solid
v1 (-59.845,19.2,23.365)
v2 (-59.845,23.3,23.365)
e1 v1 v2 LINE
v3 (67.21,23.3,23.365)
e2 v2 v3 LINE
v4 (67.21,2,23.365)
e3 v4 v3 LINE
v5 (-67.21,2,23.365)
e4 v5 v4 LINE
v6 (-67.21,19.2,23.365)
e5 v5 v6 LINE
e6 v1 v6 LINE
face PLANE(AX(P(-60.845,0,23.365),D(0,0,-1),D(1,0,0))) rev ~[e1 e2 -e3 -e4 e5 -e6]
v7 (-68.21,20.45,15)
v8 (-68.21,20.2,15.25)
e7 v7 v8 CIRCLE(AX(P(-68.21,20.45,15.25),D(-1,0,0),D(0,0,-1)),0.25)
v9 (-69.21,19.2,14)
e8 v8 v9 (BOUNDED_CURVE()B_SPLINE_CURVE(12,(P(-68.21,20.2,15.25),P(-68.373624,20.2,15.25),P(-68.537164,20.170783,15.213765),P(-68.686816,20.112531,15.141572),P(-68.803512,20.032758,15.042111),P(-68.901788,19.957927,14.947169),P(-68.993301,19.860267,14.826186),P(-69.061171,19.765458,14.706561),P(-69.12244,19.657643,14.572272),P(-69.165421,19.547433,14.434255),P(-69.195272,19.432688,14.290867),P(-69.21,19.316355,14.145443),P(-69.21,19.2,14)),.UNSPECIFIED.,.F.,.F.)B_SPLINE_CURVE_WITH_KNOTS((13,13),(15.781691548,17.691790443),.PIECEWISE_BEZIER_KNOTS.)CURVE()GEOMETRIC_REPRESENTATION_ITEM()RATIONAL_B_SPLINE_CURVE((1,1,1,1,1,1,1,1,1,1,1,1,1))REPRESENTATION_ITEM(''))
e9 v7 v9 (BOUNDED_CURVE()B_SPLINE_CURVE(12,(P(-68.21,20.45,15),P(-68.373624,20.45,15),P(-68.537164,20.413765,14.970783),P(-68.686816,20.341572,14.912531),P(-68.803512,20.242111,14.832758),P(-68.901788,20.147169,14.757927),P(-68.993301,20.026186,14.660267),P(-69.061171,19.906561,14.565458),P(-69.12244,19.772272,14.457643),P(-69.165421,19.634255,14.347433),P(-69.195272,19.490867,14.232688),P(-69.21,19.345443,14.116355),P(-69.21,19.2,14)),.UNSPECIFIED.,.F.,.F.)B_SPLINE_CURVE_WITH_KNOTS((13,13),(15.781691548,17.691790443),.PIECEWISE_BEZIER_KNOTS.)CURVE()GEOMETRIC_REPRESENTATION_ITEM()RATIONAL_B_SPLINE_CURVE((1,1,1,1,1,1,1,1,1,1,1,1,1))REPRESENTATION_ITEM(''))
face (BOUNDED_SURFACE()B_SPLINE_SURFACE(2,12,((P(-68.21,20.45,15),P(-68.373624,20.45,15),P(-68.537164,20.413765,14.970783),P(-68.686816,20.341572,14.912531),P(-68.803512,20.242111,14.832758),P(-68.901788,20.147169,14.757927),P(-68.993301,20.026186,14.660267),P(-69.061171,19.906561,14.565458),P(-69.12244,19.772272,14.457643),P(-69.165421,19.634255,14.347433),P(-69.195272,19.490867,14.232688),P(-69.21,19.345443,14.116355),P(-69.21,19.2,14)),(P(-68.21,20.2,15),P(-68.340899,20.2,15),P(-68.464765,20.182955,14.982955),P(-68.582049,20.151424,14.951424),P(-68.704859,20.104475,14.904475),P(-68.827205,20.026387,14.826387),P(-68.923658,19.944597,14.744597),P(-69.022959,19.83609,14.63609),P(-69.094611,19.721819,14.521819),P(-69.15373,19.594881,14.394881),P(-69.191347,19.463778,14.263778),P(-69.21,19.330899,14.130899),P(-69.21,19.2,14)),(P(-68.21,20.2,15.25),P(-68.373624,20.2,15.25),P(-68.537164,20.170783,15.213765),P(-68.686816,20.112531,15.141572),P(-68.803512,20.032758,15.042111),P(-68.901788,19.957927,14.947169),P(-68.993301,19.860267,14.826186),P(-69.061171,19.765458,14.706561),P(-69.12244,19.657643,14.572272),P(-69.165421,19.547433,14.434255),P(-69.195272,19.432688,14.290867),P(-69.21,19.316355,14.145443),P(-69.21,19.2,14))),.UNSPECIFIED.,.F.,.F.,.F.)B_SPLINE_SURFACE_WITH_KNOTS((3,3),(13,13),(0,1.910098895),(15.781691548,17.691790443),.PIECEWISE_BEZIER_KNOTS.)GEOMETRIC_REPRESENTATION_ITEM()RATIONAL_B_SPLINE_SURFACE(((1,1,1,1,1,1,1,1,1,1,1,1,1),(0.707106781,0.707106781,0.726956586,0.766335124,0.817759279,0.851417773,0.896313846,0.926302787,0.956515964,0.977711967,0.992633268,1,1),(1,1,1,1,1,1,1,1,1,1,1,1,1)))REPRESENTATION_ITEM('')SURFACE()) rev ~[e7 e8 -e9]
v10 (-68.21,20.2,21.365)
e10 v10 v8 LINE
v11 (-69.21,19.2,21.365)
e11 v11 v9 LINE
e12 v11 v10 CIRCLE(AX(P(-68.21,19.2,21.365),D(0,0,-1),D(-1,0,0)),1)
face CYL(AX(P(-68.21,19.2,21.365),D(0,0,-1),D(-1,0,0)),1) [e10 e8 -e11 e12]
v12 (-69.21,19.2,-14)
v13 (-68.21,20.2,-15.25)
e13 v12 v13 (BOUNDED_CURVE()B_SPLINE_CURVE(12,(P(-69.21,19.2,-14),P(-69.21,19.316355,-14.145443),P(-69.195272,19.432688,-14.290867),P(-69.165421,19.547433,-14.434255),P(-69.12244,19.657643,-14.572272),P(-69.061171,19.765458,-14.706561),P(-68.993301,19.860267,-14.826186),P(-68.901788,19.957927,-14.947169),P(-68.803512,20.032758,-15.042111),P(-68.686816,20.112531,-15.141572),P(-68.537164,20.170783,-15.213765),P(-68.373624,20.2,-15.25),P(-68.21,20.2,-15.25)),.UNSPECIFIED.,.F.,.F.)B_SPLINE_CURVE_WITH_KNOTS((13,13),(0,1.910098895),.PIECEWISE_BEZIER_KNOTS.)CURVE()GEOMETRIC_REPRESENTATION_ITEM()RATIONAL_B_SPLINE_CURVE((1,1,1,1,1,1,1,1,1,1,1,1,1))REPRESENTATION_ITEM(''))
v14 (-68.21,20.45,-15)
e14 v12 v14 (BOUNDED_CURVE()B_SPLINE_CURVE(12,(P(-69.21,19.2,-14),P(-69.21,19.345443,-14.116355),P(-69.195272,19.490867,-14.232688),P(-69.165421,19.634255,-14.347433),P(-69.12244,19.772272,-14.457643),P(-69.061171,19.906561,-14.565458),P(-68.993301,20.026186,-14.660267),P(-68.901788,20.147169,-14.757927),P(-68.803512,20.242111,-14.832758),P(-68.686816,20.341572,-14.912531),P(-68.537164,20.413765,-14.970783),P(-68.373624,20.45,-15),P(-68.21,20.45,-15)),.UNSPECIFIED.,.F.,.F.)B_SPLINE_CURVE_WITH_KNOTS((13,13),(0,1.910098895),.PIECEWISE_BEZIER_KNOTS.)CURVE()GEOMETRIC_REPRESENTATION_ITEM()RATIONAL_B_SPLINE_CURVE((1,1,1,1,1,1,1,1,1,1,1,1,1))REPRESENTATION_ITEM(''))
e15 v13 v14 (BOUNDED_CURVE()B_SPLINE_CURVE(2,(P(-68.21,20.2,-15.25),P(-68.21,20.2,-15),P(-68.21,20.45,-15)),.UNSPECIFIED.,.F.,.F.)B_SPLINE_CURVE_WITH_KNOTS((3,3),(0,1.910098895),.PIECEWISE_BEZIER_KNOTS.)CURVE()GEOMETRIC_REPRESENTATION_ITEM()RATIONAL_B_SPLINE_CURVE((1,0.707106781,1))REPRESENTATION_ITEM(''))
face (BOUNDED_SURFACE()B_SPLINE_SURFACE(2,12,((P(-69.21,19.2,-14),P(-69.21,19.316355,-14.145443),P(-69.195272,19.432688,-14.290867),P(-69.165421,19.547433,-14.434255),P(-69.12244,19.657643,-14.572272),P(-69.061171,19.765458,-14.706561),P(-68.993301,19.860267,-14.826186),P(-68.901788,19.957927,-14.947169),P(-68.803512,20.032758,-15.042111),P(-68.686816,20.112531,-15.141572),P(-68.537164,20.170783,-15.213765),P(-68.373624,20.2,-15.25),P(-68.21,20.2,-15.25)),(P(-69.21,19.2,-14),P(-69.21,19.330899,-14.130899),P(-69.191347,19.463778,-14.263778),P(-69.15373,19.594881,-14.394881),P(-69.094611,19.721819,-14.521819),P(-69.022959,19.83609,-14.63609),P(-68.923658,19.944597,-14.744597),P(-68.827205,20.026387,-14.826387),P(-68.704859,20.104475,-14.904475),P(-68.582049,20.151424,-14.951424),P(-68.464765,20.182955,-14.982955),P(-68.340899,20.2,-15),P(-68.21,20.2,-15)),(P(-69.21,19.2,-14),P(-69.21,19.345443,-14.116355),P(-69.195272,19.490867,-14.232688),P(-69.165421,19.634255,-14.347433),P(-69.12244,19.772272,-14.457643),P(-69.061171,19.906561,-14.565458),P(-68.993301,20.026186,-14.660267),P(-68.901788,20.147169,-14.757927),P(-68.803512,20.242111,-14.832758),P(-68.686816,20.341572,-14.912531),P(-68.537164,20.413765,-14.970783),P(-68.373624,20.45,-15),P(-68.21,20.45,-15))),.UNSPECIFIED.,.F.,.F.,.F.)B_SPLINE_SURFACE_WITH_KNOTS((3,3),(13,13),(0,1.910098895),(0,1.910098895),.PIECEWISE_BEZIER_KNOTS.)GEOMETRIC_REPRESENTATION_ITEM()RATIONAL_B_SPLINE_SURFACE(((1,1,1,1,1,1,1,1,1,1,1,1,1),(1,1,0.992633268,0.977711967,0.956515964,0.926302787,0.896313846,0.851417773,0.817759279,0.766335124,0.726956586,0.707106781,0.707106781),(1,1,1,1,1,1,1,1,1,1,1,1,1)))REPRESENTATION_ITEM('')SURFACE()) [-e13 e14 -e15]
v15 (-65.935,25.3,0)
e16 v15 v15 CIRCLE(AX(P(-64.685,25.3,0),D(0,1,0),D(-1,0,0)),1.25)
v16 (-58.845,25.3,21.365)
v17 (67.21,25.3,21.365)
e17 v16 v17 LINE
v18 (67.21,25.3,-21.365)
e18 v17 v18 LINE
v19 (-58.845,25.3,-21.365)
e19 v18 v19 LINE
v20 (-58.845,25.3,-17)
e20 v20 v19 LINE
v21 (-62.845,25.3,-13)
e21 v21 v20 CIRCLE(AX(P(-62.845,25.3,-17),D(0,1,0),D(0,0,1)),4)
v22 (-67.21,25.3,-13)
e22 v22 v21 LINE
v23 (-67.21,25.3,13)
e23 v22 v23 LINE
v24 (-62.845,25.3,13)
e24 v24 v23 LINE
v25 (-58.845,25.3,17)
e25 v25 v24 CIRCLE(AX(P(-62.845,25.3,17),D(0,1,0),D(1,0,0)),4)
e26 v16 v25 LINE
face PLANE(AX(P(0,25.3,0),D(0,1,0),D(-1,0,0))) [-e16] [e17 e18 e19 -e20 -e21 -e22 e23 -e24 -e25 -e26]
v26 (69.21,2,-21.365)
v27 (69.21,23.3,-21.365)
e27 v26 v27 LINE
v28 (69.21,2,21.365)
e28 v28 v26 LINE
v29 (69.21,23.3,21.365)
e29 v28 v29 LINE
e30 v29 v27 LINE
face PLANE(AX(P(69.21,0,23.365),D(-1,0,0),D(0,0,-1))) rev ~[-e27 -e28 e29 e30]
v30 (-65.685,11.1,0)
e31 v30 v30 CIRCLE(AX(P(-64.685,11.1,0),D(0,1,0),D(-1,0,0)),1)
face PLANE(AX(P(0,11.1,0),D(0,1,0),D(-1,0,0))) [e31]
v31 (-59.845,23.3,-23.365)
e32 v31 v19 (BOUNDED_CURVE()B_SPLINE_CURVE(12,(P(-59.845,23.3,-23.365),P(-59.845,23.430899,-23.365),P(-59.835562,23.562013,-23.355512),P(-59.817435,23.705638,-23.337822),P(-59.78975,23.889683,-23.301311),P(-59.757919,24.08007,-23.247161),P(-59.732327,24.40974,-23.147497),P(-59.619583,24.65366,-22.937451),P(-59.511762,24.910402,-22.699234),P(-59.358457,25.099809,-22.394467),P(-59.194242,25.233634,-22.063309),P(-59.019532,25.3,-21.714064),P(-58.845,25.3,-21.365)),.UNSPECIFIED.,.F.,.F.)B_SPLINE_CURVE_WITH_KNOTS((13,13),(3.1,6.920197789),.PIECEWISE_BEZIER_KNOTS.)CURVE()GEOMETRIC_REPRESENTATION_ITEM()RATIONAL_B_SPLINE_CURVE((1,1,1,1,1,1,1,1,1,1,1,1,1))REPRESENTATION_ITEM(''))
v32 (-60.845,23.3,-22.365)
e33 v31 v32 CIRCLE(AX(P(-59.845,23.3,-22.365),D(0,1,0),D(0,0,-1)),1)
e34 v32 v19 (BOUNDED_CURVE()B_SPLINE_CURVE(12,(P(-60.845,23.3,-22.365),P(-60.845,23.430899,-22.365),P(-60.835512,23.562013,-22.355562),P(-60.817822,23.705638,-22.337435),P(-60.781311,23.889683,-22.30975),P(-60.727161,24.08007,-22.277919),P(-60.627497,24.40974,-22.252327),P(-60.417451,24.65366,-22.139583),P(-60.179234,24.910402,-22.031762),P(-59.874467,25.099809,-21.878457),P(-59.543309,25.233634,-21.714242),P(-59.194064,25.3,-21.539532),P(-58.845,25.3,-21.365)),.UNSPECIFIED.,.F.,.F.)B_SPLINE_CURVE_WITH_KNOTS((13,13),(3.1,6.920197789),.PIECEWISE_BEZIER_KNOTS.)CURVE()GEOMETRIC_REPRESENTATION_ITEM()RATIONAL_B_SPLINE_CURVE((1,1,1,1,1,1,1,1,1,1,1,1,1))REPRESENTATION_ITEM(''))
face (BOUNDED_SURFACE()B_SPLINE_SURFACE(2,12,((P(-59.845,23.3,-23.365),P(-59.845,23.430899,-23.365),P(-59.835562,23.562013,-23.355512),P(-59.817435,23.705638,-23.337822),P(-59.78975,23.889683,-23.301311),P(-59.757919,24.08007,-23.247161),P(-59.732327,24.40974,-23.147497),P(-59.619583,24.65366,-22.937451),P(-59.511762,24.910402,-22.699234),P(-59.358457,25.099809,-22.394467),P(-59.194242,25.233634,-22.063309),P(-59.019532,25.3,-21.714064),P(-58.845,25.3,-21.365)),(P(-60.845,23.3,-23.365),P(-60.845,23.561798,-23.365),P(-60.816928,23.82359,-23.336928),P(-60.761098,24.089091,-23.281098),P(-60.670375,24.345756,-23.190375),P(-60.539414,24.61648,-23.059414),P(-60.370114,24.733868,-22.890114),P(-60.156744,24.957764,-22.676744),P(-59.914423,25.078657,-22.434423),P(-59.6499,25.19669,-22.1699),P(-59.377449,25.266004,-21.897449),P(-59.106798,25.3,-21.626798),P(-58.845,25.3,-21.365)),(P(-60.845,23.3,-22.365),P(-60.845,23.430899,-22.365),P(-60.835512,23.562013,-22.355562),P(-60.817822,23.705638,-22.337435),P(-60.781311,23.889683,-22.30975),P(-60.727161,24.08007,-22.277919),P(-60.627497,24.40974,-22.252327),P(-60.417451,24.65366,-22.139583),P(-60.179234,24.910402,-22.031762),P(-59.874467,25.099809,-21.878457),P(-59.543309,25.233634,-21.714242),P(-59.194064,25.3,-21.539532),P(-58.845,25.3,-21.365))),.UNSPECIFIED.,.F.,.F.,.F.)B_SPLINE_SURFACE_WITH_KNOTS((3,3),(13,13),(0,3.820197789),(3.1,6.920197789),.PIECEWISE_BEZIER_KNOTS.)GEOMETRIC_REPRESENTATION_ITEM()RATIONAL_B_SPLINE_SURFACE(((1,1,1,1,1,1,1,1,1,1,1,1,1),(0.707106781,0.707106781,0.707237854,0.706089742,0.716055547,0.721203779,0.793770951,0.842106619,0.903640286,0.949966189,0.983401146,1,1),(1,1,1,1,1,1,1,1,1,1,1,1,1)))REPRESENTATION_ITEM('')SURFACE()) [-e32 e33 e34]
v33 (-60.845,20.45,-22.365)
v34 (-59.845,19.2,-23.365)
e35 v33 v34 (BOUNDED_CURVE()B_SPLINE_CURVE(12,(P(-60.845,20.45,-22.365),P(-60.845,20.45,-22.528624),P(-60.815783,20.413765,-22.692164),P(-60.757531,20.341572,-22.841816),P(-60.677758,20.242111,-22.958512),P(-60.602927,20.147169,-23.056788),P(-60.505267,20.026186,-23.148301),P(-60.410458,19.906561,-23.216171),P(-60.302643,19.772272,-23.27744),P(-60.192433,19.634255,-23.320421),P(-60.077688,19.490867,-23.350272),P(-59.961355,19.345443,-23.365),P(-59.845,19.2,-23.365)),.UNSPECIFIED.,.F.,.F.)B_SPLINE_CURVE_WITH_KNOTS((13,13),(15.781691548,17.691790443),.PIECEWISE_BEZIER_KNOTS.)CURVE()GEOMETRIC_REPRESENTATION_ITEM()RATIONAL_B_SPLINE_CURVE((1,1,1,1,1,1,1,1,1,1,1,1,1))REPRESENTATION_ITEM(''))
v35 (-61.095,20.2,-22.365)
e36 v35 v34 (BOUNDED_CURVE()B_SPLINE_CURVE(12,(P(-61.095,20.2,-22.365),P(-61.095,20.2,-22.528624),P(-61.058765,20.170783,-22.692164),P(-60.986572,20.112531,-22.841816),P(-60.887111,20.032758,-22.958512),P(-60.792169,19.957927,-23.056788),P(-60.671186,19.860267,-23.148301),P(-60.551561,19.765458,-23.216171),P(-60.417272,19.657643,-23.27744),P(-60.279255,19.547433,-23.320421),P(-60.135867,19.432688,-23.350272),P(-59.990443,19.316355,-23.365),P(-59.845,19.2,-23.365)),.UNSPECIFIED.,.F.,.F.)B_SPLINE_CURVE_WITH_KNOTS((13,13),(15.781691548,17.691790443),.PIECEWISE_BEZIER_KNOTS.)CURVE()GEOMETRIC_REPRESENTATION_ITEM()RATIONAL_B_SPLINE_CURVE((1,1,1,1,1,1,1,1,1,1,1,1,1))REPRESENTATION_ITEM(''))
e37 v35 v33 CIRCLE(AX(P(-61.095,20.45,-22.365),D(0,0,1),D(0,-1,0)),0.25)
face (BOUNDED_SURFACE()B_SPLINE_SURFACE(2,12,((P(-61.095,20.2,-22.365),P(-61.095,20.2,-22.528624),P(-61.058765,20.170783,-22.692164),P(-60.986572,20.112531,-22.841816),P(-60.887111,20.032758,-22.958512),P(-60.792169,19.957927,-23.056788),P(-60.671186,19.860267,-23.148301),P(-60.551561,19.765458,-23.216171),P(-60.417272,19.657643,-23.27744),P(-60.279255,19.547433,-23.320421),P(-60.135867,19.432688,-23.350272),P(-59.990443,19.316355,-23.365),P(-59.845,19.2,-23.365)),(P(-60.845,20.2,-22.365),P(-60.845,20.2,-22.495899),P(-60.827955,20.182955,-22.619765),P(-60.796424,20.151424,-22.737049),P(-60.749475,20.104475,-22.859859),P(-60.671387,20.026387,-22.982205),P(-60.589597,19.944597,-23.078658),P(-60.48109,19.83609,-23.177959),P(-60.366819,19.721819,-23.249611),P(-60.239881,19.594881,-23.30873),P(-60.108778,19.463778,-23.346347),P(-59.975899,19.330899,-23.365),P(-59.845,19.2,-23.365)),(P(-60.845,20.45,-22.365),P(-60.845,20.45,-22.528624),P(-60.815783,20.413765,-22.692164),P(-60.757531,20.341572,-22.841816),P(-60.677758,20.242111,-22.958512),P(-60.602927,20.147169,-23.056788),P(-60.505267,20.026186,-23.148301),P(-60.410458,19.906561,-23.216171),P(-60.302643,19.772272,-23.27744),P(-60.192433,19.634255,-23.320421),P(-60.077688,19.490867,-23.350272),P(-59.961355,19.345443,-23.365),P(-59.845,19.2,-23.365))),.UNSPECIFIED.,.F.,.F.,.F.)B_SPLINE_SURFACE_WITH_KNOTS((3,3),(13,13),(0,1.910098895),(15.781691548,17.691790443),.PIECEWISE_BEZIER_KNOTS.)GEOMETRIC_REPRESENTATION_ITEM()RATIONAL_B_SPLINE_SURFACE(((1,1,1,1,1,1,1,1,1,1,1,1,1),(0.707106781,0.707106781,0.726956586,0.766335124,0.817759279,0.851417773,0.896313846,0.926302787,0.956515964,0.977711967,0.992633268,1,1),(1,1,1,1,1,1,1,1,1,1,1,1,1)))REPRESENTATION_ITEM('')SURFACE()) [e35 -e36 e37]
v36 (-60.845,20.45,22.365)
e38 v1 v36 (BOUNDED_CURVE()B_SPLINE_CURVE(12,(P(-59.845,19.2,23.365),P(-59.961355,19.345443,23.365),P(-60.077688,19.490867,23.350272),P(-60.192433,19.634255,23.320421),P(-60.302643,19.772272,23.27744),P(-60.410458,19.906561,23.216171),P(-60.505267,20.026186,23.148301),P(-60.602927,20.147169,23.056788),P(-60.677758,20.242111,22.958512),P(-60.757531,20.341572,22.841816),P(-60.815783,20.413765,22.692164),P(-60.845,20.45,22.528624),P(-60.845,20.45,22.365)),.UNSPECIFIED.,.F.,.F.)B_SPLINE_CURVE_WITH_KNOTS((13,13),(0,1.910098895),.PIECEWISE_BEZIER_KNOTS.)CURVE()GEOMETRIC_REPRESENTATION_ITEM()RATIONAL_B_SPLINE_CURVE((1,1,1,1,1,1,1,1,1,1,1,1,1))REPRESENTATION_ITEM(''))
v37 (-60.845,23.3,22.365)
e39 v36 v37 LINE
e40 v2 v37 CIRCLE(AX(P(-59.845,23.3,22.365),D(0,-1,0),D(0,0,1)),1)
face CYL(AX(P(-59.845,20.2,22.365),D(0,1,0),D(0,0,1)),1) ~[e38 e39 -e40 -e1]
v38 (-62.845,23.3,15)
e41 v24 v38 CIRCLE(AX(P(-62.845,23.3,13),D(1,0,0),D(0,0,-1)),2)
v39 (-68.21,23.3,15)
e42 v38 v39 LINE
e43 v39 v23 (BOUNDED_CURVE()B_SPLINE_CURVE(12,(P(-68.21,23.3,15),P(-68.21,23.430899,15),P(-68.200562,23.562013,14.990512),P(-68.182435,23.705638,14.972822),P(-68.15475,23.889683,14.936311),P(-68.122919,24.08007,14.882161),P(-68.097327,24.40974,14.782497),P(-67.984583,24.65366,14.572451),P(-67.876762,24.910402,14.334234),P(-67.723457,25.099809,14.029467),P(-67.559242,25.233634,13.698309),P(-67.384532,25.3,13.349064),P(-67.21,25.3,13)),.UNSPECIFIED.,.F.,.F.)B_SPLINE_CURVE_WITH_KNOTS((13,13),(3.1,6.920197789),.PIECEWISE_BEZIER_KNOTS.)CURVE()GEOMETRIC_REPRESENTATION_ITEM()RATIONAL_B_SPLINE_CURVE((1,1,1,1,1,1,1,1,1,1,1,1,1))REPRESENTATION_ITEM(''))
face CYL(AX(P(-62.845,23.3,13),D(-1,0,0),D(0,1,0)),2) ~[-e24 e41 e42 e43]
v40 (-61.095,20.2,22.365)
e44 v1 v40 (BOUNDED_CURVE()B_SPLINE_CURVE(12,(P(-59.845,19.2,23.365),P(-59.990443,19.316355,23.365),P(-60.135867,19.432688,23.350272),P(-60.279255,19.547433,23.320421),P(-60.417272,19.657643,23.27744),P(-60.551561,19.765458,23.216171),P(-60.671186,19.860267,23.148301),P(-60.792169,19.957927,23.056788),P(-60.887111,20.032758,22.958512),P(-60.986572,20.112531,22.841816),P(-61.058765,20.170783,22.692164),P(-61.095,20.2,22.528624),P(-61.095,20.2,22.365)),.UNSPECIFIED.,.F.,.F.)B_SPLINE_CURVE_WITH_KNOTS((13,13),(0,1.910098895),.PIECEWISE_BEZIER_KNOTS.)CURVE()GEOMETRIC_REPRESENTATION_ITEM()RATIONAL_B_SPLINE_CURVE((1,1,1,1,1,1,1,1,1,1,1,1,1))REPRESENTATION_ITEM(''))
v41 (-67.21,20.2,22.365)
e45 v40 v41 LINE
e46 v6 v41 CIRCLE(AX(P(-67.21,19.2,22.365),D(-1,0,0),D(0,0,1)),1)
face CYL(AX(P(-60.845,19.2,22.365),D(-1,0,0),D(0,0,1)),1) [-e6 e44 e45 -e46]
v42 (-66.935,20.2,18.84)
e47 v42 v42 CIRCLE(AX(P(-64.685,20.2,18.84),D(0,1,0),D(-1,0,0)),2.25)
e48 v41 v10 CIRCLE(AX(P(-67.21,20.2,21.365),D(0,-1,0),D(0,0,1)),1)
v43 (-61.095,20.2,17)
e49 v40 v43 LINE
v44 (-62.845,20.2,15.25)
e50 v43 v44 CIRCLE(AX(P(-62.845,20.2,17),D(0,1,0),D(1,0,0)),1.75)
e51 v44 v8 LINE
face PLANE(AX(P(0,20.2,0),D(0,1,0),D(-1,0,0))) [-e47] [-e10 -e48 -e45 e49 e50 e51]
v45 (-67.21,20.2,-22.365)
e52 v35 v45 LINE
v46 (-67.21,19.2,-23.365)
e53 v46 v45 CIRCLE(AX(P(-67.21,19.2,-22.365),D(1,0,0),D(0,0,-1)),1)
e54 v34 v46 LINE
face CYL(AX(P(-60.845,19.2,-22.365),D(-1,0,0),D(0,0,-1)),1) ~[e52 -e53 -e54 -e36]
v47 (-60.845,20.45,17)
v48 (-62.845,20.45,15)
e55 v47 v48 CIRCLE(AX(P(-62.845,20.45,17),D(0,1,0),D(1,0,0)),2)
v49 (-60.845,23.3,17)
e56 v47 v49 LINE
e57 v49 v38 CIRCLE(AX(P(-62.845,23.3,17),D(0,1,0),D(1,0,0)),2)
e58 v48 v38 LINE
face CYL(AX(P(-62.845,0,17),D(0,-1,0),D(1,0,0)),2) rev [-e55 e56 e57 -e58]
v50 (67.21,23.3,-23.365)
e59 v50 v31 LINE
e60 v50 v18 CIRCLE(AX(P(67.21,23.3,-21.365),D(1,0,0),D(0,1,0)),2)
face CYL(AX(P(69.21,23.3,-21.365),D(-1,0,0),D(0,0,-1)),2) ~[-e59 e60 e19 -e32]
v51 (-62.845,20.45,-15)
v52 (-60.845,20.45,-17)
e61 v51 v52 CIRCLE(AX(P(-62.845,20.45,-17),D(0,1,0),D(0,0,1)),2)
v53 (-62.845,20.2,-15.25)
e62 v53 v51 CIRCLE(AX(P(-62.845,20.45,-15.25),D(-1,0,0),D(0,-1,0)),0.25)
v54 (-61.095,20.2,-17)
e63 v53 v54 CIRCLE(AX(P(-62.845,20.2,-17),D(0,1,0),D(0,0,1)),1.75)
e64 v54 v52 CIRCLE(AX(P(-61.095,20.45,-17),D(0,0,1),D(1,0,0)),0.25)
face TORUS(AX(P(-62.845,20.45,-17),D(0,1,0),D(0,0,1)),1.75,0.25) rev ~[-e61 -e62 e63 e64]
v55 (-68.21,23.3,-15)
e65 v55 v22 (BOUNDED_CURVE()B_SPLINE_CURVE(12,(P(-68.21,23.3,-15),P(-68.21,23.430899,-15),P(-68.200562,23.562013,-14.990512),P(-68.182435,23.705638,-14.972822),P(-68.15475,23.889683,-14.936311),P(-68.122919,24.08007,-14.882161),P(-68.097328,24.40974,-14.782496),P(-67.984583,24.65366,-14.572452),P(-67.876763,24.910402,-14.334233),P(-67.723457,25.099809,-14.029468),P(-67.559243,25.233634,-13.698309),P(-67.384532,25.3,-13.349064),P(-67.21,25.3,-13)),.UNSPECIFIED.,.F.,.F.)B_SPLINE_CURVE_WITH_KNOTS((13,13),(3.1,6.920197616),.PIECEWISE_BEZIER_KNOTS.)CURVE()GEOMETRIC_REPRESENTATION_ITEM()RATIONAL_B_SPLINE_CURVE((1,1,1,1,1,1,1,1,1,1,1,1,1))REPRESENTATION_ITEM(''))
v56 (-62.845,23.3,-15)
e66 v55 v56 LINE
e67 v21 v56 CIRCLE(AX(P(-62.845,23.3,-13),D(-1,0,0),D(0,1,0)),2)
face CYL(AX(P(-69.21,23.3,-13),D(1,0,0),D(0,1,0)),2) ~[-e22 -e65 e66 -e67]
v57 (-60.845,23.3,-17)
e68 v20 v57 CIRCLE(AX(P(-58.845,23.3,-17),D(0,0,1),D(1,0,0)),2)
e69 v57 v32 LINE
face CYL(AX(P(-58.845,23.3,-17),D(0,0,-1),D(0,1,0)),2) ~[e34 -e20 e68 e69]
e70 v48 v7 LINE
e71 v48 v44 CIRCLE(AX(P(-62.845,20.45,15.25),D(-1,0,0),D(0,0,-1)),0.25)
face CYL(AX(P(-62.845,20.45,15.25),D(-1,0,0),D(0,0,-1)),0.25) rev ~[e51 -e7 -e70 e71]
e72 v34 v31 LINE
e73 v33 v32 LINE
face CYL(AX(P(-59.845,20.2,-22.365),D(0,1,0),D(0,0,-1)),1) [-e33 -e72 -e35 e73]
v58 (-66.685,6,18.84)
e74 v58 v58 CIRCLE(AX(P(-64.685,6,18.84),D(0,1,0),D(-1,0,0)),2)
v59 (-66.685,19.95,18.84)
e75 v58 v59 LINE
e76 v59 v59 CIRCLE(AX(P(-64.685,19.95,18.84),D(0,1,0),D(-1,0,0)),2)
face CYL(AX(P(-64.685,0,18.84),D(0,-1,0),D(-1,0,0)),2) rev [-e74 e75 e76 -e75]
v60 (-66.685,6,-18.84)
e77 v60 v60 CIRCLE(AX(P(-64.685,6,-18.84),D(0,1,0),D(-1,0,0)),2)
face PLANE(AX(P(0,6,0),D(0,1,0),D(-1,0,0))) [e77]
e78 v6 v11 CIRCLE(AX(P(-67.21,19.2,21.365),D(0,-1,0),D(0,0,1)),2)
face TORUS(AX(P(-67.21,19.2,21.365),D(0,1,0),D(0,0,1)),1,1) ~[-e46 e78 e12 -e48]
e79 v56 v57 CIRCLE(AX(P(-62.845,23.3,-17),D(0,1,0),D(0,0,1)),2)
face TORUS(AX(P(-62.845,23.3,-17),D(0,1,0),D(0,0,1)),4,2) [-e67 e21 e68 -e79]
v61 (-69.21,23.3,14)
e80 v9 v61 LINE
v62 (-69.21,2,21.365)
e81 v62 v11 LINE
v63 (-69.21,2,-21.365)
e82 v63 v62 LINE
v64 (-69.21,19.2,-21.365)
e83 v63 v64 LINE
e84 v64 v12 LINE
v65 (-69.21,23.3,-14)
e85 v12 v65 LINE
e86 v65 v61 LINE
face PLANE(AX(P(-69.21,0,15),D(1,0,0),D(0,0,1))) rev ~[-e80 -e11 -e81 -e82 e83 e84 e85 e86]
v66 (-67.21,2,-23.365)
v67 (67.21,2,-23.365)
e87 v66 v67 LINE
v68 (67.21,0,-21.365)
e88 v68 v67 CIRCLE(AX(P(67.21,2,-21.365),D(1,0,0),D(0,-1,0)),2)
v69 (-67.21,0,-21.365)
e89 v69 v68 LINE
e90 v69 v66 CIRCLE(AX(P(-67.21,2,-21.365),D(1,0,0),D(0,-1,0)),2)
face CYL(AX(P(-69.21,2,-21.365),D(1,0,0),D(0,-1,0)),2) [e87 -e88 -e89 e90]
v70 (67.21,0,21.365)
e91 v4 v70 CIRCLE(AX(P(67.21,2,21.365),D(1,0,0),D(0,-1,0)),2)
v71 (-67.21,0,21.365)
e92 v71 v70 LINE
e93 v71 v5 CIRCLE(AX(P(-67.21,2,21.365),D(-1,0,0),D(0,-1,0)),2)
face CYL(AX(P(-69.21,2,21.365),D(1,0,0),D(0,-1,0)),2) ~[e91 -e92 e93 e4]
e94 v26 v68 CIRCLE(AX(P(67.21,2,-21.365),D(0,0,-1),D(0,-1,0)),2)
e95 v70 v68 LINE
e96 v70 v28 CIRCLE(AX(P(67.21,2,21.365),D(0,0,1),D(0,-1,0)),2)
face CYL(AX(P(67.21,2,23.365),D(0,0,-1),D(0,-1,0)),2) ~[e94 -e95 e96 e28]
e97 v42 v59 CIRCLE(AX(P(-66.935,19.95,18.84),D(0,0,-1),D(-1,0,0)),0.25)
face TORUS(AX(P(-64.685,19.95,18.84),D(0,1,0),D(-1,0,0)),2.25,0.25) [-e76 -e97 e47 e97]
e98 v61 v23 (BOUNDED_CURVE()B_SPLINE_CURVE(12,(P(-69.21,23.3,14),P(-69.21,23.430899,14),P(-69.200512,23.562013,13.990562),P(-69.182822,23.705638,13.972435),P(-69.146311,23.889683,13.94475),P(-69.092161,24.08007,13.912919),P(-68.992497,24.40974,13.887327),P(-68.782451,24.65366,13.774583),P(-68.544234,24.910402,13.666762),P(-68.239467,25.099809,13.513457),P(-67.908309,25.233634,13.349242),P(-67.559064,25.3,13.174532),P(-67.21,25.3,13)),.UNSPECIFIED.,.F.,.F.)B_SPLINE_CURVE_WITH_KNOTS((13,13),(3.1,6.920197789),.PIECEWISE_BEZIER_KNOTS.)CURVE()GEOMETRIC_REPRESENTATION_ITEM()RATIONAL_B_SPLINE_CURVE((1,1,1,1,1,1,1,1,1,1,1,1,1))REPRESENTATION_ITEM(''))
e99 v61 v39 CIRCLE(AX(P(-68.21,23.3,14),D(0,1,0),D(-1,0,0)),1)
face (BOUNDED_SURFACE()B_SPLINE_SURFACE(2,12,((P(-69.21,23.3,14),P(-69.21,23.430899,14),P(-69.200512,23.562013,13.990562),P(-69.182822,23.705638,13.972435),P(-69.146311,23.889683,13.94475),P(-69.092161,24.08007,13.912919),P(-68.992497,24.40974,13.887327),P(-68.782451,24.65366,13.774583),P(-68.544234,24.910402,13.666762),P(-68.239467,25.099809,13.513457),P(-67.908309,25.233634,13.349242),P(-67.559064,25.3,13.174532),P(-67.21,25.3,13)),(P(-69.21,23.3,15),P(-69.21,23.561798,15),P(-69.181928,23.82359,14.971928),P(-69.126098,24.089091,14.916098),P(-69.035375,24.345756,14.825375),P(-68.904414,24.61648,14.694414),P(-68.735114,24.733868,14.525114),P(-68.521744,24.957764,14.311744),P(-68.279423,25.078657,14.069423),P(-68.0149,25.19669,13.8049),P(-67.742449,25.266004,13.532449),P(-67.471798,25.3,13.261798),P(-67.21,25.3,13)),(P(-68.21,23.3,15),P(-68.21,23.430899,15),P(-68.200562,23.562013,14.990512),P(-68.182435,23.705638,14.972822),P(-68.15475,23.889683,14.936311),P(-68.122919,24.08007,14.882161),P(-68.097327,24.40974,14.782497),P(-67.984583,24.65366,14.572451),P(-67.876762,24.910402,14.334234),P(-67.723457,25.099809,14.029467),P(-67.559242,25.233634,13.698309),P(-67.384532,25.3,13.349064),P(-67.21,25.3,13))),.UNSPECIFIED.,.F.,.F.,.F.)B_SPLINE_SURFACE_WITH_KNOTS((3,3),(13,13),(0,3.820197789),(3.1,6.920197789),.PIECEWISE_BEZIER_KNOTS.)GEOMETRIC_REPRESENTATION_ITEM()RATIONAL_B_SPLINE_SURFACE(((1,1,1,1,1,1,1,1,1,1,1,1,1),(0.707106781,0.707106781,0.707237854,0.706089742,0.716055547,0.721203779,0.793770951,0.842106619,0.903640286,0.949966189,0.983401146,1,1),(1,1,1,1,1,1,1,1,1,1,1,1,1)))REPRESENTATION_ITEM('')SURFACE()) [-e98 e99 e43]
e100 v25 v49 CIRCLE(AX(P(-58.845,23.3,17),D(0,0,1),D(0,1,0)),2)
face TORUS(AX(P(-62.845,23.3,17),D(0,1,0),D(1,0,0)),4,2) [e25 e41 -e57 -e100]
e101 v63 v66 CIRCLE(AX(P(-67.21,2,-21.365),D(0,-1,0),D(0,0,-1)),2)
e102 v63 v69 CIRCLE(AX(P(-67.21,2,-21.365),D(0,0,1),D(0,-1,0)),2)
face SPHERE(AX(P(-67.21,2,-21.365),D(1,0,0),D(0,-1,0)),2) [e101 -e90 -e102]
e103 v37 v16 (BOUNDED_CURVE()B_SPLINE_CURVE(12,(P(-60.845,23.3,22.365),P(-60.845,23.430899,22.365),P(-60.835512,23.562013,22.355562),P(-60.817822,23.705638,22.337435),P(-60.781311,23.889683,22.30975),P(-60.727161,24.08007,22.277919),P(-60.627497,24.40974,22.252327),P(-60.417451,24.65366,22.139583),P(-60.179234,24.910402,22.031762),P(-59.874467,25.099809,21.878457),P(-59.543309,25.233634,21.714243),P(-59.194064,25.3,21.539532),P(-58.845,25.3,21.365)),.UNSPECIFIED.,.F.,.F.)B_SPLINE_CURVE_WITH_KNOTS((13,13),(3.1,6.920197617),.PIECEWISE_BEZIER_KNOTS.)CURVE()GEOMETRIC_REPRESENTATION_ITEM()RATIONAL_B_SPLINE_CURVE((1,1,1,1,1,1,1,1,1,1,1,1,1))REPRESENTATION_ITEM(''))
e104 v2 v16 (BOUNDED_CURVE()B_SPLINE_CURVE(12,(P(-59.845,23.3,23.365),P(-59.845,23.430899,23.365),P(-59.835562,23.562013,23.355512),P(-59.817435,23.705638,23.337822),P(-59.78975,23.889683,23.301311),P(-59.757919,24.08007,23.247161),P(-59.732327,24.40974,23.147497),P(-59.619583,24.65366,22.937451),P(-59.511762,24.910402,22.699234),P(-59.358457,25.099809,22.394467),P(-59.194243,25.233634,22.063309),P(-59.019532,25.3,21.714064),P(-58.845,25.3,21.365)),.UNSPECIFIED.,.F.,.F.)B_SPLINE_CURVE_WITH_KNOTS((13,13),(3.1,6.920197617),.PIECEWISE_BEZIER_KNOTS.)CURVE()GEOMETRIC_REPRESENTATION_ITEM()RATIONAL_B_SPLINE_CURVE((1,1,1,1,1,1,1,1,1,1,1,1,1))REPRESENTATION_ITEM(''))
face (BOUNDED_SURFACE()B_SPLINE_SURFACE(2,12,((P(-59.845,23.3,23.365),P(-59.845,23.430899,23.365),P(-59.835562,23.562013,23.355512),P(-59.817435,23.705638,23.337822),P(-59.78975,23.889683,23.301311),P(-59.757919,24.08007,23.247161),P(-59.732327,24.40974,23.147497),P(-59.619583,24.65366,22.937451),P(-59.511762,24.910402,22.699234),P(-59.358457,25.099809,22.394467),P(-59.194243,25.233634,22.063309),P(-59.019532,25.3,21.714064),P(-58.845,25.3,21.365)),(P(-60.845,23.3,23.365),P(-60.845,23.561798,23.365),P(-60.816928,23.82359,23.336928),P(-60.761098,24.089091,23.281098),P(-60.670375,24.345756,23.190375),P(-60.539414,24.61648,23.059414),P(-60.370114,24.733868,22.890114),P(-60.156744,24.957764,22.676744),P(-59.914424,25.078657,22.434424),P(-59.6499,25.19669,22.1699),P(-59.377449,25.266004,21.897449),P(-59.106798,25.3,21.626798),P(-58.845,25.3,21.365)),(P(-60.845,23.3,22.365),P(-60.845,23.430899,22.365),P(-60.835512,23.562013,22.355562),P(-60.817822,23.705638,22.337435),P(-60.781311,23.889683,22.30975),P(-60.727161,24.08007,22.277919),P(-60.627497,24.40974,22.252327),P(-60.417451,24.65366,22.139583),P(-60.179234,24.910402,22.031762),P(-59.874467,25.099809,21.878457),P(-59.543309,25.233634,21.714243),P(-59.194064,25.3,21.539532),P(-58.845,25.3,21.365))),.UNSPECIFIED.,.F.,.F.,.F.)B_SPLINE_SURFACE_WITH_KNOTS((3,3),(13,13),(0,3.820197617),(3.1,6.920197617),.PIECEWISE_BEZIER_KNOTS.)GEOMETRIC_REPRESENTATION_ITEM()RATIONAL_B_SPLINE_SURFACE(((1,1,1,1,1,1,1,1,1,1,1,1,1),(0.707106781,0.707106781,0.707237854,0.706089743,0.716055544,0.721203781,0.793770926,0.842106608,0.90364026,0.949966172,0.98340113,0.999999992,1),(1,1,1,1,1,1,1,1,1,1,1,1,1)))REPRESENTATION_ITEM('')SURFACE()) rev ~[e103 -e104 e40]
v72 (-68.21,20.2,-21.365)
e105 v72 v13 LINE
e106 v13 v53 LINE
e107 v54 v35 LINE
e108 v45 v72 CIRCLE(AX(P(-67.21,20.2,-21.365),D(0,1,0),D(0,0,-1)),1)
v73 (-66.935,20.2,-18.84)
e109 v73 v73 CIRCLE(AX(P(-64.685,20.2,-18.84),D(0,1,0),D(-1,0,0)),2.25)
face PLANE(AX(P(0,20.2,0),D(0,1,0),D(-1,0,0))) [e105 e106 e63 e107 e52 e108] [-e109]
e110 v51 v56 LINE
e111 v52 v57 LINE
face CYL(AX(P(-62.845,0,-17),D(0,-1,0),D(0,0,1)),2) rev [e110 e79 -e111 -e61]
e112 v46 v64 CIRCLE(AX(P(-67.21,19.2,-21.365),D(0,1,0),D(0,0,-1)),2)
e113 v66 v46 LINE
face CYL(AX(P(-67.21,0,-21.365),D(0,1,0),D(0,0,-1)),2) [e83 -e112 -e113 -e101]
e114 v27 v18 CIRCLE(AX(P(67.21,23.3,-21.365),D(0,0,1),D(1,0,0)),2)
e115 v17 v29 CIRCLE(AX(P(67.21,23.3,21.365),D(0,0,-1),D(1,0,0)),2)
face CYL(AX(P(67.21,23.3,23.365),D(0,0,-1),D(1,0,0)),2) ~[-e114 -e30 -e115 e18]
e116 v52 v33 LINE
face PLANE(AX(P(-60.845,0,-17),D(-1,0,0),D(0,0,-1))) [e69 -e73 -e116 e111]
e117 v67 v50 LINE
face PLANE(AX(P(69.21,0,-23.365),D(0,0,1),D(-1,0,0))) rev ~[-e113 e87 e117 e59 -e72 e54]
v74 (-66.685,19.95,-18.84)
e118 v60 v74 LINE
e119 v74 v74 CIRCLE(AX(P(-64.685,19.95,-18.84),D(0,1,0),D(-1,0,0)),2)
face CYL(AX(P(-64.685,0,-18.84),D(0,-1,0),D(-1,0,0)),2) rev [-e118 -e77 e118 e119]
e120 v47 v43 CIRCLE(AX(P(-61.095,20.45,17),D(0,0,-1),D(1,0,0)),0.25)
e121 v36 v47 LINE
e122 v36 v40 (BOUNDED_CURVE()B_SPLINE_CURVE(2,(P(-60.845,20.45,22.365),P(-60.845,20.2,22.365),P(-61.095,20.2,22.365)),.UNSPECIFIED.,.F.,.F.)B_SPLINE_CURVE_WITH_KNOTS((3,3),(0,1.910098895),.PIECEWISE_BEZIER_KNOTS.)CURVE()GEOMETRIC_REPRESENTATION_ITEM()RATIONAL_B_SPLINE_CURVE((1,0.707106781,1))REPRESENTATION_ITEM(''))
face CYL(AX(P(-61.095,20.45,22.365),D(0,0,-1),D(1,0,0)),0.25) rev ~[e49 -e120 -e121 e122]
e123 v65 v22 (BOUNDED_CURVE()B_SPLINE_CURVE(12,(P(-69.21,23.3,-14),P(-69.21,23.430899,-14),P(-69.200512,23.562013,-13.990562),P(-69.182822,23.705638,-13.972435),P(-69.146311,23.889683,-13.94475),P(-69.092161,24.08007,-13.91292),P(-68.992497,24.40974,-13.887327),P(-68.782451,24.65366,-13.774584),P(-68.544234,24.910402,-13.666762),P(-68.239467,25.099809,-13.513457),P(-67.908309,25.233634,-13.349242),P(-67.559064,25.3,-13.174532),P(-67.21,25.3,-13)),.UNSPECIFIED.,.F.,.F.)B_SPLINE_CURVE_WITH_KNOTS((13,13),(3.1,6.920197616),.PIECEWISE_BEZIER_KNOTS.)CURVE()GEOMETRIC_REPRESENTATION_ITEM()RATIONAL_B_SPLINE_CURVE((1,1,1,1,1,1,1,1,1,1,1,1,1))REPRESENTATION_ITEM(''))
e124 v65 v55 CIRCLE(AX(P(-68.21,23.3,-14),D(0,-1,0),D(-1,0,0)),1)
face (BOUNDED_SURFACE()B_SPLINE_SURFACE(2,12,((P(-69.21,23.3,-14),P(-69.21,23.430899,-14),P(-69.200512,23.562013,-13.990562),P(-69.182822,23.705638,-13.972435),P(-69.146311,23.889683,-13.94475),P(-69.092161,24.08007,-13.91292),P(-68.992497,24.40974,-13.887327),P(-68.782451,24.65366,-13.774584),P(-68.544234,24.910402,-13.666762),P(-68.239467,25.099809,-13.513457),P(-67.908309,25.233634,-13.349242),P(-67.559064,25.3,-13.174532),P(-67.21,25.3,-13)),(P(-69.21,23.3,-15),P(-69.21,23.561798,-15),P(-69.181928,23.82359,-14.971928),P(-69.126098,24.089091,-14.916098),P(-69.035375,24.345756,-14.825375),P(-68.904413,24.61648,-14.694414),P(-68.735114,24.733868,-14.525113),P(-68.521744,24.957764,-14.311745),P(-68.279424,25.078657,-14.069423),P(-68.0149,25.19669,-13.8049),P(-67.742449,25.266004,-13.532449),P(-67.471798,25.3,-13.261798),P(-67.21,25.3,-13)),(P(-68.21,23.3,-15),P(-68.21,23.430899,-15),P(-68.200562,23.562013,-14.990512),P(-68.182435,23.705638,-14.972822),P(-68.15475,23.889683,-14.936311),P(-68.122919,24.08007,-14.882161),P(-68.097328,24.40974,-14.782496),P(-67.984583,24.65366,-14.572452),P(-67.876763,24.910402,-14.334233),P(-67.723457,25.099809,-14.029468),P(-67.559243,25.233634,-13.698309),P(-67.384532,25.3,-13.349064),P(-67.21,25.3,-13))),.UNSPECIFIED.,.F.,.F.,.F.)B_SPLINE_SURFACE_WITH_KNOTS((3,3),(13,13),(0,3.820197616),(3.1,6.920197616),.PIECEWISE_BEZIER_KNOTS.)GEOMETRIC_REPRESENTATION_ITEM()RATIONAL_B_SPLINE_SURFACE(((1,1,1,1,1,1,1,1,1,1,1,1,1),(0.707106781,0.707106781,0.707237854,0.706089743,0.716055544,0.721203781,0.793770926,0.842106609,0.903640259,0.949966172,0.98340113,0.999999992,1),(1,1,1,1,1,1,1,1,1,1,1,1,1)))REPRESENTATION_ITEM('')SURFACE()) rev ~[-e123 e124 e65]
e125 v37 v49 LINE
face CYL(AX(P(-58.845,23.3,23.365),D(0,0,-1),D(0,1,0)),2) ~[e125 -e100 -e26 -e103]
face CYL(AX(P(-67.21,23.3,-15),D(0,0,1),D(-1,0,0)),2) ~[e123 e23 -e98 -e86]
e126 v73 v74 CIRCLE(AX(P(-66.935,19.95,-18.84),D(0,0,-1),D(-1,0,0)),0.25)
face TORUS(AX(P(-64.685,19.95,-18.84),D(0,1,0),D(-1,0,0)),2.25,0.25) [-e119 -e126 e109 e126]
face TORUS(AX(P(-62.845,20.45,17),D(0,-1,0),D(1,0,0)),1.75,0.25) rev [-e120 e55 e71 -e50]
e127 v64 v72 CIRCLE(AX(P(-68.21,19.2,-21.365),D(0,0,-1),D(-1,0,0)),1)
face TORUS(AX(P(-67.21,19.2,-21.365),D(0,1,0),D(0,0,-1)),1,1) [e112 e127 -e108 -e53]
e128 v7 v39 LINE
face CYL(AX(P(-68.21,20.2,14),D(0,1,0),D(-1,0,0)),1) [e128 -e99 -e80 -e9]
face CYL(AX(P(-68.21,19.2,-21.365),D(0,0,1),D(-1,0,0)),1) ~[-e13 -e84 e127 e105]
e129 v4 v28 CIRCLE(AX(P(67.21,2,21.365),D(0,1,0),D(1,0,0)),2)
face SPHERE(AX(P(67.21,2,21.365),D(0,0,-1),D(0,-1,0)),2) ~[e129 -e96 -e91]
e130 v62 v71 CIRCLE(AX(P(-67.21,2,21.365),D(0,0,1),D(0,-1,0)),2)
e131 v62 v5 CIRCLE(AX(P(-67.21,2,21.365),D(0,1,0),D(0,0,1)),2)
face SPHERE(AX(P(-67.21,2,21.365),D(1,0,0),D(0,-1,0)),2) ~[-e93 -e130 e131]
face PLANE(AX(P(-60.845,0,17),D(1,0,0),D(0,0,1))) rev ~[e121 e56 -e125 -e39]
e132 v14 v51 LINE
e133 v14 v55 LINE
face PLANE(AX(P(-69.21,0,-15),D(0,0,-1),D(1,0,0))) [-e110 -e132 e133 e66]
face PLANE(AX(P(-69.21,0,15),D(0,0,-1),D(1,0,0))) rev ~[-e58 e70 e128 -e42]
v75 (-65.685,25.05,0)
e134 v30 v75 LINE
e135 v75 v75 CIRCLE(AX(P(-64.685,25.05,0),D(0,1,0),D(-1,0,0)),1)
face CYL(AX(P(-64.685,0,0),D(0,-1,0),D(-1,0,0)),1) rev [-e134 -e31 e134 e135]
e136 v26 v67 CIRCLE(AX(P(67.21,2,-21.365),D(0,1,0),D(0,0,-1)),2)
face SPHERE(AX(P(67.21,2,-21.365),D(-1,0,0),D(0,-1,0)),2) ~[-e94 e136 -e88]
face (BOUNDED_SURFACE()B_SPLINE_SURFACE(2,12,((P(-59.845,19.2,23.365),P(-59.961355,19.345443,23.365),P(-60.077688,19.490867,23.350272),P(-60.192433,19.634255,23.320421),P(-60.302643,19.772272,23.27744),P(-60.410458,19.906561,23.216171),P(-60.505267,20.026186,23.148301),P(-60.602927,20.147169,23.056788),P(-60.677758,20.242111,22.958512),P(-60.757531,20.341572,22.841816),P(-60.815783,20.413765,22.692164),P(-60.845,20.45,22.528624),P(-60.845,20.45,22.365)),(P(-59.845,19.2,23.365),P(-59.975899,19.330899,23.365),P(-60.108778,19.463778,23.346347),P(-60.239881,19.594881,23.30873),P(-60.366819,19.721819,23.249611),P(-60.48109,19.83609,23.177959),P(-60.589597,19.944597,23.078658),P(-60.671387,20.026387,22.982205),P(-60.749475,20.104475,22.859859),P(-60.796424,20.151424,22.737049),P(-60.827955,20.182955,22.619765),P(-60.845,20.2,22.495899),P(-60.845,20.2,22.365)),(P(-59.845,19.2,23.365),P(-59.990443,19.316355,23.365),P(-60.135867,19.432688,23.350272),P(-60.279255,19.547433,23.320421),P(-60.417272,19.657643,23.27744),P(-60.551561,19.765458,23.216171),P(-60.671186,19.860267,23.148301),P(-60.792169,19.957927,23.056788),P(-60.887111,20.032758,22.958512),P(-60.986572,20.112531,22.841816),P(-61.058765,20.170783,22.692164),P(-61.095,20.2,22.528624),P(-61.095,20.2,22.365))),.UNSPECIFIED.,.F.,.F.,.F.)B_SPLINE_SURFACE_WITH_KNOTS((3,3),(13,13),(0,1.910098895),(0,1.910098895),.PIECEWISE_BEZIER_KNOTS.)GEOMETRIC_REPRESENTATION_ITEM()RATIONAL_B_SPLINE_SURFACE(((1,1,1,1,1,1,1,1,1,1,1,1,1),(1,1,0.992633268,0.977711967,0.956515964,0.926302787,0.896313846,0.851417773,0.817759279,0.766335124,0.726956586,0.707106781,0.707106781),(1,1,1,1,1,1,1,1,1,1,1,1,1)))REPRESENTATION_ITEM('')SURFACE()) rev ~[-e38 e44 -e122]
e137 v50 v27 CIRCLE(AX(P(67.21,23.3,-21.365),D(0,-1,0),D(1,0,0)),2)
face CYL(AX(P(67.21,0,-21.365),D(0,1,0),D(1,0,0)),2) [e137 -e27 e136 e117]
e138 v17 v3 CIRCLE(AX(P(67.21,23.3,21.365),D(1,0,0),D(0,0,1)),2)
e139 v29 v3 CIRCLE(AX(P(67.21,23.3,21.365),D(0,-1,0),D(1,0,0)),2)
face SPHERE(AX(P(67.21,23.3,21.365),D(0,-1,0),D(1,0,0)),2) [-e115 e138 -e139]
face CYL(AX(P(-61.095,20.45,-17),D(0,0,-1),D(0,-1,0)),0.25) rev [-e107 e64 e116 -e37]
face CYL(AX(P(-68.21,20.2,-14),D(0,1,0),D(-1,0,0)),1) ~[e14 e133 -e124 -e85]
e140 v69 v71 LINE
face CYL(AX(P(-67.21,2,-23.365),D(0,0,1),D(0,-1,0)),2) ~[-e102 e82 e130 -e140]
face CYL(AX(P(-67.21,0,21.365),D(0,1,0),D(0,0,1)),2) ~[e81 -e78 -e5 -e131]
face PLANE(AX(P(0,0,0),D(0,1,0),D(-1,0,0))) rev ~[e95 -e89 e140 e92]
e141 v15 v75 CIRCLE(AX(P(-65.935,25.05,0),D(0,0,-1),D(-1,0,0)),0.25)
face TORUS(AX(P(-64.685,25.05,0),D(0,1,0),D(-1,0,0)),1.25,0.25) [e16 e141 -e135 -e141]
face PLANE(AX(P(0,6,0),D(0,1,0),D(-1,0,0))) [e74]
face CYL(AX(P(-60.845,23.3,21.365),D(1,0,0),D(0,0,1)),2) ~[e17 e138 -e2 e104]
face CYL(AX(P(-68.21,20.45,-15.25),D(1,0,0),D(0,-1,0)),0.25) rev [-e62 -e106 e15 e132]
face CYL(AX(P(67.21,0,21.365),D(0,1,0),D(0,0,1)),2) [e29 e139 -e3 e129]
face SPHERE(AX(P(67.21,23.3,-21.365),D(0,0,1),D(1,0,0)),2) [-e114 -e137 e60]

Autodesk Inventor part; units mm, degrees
ref_plane "YZ Plane" through (0, 0, 0) normal (1, 0, 0) x (0, 1, 0)
ref_plane "XZ Plane" through (0, 0, 0) normal (0, 1, 0) x (-1, 0, 0)
ref_plane "XY Plane" through (0, 0, 0) normal (0, 0, 1) x (1, 0, 0)
sketch "Sketch1" plane through (0, 0, 0) normal (0, 1, 0) x (-1, 0, 0)
  line L0 (69.21, 23.365) -> (-69.21, 23.365)
  line L1 (-69.21, 23.365) -> (-69.21, -23.365)
  line L2 (-69.21, -23.365) -> (69.21, -23.365)
  line L3 (69.21, -23.365) -> (69.21, 23.365)
  line L4 (69.21, 23.365) -> (-69.21, -23.365) construction
  line L5 (-69.21, 23.365) -> (69.21, -23.365) construction
  circle A0 centre (64.685, -18.84) radius 2
  circle A1 centre (64.685, 18.84) radius 2
  line L6 (69.21, -15) -> (62.845, -15)
  line L7 (60.845, -17) -> (60.845, -23.365)
  line L8 (69.21, 15) -> (62.845, 15)
  line L9 (60.845, 17) -> (60.845, 23.365)
  arc A2 (62.845, -15) -> (60.845, -17) centre (62.845, -17) ccw
  arc A3 (60.845, 17) -> (62.845, 15) centre (62.845, 17) ccw
  circle A4 centre (64.685, 0) radius 1
  point P0 (0, 0)
  point P1 (60.845, -15)
  point P2 (60.845, 15)
  dimension "d0" = 138.42
  dimension "d1" = 46.73
  dimension "d2" = 4
  dimension "d3" = 4
  dimension "d5" = 4.525
  dimension "d7" = 4.525
  dimension "d11" = 4.525
  dimension "d13" = 4.525
  dimension "d14" = 8.365
  dimension "d15" = 8.365
  dimension "d16" = 2
  dimension "d17" = 2
  dimension "d34" = 18.84
extrude "Extrusion1" add sketch "Sketch1" along normal blind 25.3 contours L9 A3 L8 L3 L6 A2 L7 L2 L1 L0
extrude "Extrusion2" add sketch "Sketch1" along normal blind 20.2 contours L3 L8 A3 L9 L0 | L3 L2 L7 A2 L6
extrude "Extrusion3" add sketch "Sketch1" along normal blind 6 contours A0 | A1
extrude "Extrusion4" add sketch "Sketch1" along normal blind 11.1 contours A4
fillet "Fillet1" radius 2 18 edges at (0, 0, -23.365) (69.21, 0, 0) (0, 0, 23.365) (-69.21, 0, 0) (69.21, 12.65, 23.365) (69.21, 25.3, 0) (69.21, 12.65, -23.365) (4.1825, 25.3, -23.365) (-69.21, 10.1, -23.365) (-69.21, 10.1, 23.365) (4.1825, 25.3, 23.365) (-69.21, 25.3, 0) (-61.4308, 25.3, -15.5858) (-60.845, 25.3, -20.1825) (-66.0275, 25.3, -15) (-61.4308, 25.3, 15.5858) (-66.0275, 25.3, 15) (-60.845, 25.3, 20.1825)
fillet "Fillet2" radius 1 14 edges at (-68.6242, 20.2, -22.7792) (-64.0275, 20.2, -23.365) (-69.21, 20.2, -18.1825) (-60.845, 21.75, -23.365) (-60.2592, 24.7142, -22.7792) (-69.21, 21.75, -15) (-68.6242, 24.7142, -14.4142) (-68.6242, 20.2, 22.7792) (-64.0275, 20.2, 23.365) (-69.21, 20.2, 18.1825) (-68.6242, 24.7142, 14.4142) (-69.21, 21.75, 15) (-60.2592, 24.7142, 22.7792) (-60.845, 21.75, 23.365)
fillet "Fillet3" radius 0.25 10 edges at (-60.5521, 19.9071, 23.0721) (-61.4308, 20.2, 15.5858) (-65.5275, 20.2, 15) (-68.9171, 19.9071, 14.7071) (-60.845, 20.2, 19.6825) (-61.4308, 20.2, -15.5858) (-65.5275, 20.2, -15) (-68.9171, 19.9071, -14.7071) (-60.5521, 19.9071, -23.0721) (-60.845, 20.2, -19.6825)
fillet "Fillet4" radius 0.25 3 edges at (-62.685, 20.2, -18.84) (-63.685, 25.3, 0) (-62.685, 20.2, 18.84)
sketch "Sketch3" plane through (0, 25.3, 0) normal (0, 1, 0) x (1, 0, 0)
  line L0 (-54.5603, 15.2549) -> (-14.589, 15.2549) construction
  line L1 (-14.589, 15.2549) -> (-14.589, 8.9077) construction
  line L2 (-14.589, 8.9077) -> (-54.5603, 8.9077) construction
  line L3 (-54.5603, 8.9077) -> (-54.5603, 15.2549) construction
  line L4 (11.9565, 7.5587) -> (26.1762, 7.5587) construction
  line L5 (26.1762, 7.5587) -> (26.1762, 1.2474) construction
  line L6 (26.1762, 1.2474) -> (11.9565, 1.2474) construction
  line L7 (11.9565, 1.2474) -> (11.9565, 7.5587) construction
  point P0 (0, 0)
  dimension "d0" = 138.42
properties part number "baterai"
